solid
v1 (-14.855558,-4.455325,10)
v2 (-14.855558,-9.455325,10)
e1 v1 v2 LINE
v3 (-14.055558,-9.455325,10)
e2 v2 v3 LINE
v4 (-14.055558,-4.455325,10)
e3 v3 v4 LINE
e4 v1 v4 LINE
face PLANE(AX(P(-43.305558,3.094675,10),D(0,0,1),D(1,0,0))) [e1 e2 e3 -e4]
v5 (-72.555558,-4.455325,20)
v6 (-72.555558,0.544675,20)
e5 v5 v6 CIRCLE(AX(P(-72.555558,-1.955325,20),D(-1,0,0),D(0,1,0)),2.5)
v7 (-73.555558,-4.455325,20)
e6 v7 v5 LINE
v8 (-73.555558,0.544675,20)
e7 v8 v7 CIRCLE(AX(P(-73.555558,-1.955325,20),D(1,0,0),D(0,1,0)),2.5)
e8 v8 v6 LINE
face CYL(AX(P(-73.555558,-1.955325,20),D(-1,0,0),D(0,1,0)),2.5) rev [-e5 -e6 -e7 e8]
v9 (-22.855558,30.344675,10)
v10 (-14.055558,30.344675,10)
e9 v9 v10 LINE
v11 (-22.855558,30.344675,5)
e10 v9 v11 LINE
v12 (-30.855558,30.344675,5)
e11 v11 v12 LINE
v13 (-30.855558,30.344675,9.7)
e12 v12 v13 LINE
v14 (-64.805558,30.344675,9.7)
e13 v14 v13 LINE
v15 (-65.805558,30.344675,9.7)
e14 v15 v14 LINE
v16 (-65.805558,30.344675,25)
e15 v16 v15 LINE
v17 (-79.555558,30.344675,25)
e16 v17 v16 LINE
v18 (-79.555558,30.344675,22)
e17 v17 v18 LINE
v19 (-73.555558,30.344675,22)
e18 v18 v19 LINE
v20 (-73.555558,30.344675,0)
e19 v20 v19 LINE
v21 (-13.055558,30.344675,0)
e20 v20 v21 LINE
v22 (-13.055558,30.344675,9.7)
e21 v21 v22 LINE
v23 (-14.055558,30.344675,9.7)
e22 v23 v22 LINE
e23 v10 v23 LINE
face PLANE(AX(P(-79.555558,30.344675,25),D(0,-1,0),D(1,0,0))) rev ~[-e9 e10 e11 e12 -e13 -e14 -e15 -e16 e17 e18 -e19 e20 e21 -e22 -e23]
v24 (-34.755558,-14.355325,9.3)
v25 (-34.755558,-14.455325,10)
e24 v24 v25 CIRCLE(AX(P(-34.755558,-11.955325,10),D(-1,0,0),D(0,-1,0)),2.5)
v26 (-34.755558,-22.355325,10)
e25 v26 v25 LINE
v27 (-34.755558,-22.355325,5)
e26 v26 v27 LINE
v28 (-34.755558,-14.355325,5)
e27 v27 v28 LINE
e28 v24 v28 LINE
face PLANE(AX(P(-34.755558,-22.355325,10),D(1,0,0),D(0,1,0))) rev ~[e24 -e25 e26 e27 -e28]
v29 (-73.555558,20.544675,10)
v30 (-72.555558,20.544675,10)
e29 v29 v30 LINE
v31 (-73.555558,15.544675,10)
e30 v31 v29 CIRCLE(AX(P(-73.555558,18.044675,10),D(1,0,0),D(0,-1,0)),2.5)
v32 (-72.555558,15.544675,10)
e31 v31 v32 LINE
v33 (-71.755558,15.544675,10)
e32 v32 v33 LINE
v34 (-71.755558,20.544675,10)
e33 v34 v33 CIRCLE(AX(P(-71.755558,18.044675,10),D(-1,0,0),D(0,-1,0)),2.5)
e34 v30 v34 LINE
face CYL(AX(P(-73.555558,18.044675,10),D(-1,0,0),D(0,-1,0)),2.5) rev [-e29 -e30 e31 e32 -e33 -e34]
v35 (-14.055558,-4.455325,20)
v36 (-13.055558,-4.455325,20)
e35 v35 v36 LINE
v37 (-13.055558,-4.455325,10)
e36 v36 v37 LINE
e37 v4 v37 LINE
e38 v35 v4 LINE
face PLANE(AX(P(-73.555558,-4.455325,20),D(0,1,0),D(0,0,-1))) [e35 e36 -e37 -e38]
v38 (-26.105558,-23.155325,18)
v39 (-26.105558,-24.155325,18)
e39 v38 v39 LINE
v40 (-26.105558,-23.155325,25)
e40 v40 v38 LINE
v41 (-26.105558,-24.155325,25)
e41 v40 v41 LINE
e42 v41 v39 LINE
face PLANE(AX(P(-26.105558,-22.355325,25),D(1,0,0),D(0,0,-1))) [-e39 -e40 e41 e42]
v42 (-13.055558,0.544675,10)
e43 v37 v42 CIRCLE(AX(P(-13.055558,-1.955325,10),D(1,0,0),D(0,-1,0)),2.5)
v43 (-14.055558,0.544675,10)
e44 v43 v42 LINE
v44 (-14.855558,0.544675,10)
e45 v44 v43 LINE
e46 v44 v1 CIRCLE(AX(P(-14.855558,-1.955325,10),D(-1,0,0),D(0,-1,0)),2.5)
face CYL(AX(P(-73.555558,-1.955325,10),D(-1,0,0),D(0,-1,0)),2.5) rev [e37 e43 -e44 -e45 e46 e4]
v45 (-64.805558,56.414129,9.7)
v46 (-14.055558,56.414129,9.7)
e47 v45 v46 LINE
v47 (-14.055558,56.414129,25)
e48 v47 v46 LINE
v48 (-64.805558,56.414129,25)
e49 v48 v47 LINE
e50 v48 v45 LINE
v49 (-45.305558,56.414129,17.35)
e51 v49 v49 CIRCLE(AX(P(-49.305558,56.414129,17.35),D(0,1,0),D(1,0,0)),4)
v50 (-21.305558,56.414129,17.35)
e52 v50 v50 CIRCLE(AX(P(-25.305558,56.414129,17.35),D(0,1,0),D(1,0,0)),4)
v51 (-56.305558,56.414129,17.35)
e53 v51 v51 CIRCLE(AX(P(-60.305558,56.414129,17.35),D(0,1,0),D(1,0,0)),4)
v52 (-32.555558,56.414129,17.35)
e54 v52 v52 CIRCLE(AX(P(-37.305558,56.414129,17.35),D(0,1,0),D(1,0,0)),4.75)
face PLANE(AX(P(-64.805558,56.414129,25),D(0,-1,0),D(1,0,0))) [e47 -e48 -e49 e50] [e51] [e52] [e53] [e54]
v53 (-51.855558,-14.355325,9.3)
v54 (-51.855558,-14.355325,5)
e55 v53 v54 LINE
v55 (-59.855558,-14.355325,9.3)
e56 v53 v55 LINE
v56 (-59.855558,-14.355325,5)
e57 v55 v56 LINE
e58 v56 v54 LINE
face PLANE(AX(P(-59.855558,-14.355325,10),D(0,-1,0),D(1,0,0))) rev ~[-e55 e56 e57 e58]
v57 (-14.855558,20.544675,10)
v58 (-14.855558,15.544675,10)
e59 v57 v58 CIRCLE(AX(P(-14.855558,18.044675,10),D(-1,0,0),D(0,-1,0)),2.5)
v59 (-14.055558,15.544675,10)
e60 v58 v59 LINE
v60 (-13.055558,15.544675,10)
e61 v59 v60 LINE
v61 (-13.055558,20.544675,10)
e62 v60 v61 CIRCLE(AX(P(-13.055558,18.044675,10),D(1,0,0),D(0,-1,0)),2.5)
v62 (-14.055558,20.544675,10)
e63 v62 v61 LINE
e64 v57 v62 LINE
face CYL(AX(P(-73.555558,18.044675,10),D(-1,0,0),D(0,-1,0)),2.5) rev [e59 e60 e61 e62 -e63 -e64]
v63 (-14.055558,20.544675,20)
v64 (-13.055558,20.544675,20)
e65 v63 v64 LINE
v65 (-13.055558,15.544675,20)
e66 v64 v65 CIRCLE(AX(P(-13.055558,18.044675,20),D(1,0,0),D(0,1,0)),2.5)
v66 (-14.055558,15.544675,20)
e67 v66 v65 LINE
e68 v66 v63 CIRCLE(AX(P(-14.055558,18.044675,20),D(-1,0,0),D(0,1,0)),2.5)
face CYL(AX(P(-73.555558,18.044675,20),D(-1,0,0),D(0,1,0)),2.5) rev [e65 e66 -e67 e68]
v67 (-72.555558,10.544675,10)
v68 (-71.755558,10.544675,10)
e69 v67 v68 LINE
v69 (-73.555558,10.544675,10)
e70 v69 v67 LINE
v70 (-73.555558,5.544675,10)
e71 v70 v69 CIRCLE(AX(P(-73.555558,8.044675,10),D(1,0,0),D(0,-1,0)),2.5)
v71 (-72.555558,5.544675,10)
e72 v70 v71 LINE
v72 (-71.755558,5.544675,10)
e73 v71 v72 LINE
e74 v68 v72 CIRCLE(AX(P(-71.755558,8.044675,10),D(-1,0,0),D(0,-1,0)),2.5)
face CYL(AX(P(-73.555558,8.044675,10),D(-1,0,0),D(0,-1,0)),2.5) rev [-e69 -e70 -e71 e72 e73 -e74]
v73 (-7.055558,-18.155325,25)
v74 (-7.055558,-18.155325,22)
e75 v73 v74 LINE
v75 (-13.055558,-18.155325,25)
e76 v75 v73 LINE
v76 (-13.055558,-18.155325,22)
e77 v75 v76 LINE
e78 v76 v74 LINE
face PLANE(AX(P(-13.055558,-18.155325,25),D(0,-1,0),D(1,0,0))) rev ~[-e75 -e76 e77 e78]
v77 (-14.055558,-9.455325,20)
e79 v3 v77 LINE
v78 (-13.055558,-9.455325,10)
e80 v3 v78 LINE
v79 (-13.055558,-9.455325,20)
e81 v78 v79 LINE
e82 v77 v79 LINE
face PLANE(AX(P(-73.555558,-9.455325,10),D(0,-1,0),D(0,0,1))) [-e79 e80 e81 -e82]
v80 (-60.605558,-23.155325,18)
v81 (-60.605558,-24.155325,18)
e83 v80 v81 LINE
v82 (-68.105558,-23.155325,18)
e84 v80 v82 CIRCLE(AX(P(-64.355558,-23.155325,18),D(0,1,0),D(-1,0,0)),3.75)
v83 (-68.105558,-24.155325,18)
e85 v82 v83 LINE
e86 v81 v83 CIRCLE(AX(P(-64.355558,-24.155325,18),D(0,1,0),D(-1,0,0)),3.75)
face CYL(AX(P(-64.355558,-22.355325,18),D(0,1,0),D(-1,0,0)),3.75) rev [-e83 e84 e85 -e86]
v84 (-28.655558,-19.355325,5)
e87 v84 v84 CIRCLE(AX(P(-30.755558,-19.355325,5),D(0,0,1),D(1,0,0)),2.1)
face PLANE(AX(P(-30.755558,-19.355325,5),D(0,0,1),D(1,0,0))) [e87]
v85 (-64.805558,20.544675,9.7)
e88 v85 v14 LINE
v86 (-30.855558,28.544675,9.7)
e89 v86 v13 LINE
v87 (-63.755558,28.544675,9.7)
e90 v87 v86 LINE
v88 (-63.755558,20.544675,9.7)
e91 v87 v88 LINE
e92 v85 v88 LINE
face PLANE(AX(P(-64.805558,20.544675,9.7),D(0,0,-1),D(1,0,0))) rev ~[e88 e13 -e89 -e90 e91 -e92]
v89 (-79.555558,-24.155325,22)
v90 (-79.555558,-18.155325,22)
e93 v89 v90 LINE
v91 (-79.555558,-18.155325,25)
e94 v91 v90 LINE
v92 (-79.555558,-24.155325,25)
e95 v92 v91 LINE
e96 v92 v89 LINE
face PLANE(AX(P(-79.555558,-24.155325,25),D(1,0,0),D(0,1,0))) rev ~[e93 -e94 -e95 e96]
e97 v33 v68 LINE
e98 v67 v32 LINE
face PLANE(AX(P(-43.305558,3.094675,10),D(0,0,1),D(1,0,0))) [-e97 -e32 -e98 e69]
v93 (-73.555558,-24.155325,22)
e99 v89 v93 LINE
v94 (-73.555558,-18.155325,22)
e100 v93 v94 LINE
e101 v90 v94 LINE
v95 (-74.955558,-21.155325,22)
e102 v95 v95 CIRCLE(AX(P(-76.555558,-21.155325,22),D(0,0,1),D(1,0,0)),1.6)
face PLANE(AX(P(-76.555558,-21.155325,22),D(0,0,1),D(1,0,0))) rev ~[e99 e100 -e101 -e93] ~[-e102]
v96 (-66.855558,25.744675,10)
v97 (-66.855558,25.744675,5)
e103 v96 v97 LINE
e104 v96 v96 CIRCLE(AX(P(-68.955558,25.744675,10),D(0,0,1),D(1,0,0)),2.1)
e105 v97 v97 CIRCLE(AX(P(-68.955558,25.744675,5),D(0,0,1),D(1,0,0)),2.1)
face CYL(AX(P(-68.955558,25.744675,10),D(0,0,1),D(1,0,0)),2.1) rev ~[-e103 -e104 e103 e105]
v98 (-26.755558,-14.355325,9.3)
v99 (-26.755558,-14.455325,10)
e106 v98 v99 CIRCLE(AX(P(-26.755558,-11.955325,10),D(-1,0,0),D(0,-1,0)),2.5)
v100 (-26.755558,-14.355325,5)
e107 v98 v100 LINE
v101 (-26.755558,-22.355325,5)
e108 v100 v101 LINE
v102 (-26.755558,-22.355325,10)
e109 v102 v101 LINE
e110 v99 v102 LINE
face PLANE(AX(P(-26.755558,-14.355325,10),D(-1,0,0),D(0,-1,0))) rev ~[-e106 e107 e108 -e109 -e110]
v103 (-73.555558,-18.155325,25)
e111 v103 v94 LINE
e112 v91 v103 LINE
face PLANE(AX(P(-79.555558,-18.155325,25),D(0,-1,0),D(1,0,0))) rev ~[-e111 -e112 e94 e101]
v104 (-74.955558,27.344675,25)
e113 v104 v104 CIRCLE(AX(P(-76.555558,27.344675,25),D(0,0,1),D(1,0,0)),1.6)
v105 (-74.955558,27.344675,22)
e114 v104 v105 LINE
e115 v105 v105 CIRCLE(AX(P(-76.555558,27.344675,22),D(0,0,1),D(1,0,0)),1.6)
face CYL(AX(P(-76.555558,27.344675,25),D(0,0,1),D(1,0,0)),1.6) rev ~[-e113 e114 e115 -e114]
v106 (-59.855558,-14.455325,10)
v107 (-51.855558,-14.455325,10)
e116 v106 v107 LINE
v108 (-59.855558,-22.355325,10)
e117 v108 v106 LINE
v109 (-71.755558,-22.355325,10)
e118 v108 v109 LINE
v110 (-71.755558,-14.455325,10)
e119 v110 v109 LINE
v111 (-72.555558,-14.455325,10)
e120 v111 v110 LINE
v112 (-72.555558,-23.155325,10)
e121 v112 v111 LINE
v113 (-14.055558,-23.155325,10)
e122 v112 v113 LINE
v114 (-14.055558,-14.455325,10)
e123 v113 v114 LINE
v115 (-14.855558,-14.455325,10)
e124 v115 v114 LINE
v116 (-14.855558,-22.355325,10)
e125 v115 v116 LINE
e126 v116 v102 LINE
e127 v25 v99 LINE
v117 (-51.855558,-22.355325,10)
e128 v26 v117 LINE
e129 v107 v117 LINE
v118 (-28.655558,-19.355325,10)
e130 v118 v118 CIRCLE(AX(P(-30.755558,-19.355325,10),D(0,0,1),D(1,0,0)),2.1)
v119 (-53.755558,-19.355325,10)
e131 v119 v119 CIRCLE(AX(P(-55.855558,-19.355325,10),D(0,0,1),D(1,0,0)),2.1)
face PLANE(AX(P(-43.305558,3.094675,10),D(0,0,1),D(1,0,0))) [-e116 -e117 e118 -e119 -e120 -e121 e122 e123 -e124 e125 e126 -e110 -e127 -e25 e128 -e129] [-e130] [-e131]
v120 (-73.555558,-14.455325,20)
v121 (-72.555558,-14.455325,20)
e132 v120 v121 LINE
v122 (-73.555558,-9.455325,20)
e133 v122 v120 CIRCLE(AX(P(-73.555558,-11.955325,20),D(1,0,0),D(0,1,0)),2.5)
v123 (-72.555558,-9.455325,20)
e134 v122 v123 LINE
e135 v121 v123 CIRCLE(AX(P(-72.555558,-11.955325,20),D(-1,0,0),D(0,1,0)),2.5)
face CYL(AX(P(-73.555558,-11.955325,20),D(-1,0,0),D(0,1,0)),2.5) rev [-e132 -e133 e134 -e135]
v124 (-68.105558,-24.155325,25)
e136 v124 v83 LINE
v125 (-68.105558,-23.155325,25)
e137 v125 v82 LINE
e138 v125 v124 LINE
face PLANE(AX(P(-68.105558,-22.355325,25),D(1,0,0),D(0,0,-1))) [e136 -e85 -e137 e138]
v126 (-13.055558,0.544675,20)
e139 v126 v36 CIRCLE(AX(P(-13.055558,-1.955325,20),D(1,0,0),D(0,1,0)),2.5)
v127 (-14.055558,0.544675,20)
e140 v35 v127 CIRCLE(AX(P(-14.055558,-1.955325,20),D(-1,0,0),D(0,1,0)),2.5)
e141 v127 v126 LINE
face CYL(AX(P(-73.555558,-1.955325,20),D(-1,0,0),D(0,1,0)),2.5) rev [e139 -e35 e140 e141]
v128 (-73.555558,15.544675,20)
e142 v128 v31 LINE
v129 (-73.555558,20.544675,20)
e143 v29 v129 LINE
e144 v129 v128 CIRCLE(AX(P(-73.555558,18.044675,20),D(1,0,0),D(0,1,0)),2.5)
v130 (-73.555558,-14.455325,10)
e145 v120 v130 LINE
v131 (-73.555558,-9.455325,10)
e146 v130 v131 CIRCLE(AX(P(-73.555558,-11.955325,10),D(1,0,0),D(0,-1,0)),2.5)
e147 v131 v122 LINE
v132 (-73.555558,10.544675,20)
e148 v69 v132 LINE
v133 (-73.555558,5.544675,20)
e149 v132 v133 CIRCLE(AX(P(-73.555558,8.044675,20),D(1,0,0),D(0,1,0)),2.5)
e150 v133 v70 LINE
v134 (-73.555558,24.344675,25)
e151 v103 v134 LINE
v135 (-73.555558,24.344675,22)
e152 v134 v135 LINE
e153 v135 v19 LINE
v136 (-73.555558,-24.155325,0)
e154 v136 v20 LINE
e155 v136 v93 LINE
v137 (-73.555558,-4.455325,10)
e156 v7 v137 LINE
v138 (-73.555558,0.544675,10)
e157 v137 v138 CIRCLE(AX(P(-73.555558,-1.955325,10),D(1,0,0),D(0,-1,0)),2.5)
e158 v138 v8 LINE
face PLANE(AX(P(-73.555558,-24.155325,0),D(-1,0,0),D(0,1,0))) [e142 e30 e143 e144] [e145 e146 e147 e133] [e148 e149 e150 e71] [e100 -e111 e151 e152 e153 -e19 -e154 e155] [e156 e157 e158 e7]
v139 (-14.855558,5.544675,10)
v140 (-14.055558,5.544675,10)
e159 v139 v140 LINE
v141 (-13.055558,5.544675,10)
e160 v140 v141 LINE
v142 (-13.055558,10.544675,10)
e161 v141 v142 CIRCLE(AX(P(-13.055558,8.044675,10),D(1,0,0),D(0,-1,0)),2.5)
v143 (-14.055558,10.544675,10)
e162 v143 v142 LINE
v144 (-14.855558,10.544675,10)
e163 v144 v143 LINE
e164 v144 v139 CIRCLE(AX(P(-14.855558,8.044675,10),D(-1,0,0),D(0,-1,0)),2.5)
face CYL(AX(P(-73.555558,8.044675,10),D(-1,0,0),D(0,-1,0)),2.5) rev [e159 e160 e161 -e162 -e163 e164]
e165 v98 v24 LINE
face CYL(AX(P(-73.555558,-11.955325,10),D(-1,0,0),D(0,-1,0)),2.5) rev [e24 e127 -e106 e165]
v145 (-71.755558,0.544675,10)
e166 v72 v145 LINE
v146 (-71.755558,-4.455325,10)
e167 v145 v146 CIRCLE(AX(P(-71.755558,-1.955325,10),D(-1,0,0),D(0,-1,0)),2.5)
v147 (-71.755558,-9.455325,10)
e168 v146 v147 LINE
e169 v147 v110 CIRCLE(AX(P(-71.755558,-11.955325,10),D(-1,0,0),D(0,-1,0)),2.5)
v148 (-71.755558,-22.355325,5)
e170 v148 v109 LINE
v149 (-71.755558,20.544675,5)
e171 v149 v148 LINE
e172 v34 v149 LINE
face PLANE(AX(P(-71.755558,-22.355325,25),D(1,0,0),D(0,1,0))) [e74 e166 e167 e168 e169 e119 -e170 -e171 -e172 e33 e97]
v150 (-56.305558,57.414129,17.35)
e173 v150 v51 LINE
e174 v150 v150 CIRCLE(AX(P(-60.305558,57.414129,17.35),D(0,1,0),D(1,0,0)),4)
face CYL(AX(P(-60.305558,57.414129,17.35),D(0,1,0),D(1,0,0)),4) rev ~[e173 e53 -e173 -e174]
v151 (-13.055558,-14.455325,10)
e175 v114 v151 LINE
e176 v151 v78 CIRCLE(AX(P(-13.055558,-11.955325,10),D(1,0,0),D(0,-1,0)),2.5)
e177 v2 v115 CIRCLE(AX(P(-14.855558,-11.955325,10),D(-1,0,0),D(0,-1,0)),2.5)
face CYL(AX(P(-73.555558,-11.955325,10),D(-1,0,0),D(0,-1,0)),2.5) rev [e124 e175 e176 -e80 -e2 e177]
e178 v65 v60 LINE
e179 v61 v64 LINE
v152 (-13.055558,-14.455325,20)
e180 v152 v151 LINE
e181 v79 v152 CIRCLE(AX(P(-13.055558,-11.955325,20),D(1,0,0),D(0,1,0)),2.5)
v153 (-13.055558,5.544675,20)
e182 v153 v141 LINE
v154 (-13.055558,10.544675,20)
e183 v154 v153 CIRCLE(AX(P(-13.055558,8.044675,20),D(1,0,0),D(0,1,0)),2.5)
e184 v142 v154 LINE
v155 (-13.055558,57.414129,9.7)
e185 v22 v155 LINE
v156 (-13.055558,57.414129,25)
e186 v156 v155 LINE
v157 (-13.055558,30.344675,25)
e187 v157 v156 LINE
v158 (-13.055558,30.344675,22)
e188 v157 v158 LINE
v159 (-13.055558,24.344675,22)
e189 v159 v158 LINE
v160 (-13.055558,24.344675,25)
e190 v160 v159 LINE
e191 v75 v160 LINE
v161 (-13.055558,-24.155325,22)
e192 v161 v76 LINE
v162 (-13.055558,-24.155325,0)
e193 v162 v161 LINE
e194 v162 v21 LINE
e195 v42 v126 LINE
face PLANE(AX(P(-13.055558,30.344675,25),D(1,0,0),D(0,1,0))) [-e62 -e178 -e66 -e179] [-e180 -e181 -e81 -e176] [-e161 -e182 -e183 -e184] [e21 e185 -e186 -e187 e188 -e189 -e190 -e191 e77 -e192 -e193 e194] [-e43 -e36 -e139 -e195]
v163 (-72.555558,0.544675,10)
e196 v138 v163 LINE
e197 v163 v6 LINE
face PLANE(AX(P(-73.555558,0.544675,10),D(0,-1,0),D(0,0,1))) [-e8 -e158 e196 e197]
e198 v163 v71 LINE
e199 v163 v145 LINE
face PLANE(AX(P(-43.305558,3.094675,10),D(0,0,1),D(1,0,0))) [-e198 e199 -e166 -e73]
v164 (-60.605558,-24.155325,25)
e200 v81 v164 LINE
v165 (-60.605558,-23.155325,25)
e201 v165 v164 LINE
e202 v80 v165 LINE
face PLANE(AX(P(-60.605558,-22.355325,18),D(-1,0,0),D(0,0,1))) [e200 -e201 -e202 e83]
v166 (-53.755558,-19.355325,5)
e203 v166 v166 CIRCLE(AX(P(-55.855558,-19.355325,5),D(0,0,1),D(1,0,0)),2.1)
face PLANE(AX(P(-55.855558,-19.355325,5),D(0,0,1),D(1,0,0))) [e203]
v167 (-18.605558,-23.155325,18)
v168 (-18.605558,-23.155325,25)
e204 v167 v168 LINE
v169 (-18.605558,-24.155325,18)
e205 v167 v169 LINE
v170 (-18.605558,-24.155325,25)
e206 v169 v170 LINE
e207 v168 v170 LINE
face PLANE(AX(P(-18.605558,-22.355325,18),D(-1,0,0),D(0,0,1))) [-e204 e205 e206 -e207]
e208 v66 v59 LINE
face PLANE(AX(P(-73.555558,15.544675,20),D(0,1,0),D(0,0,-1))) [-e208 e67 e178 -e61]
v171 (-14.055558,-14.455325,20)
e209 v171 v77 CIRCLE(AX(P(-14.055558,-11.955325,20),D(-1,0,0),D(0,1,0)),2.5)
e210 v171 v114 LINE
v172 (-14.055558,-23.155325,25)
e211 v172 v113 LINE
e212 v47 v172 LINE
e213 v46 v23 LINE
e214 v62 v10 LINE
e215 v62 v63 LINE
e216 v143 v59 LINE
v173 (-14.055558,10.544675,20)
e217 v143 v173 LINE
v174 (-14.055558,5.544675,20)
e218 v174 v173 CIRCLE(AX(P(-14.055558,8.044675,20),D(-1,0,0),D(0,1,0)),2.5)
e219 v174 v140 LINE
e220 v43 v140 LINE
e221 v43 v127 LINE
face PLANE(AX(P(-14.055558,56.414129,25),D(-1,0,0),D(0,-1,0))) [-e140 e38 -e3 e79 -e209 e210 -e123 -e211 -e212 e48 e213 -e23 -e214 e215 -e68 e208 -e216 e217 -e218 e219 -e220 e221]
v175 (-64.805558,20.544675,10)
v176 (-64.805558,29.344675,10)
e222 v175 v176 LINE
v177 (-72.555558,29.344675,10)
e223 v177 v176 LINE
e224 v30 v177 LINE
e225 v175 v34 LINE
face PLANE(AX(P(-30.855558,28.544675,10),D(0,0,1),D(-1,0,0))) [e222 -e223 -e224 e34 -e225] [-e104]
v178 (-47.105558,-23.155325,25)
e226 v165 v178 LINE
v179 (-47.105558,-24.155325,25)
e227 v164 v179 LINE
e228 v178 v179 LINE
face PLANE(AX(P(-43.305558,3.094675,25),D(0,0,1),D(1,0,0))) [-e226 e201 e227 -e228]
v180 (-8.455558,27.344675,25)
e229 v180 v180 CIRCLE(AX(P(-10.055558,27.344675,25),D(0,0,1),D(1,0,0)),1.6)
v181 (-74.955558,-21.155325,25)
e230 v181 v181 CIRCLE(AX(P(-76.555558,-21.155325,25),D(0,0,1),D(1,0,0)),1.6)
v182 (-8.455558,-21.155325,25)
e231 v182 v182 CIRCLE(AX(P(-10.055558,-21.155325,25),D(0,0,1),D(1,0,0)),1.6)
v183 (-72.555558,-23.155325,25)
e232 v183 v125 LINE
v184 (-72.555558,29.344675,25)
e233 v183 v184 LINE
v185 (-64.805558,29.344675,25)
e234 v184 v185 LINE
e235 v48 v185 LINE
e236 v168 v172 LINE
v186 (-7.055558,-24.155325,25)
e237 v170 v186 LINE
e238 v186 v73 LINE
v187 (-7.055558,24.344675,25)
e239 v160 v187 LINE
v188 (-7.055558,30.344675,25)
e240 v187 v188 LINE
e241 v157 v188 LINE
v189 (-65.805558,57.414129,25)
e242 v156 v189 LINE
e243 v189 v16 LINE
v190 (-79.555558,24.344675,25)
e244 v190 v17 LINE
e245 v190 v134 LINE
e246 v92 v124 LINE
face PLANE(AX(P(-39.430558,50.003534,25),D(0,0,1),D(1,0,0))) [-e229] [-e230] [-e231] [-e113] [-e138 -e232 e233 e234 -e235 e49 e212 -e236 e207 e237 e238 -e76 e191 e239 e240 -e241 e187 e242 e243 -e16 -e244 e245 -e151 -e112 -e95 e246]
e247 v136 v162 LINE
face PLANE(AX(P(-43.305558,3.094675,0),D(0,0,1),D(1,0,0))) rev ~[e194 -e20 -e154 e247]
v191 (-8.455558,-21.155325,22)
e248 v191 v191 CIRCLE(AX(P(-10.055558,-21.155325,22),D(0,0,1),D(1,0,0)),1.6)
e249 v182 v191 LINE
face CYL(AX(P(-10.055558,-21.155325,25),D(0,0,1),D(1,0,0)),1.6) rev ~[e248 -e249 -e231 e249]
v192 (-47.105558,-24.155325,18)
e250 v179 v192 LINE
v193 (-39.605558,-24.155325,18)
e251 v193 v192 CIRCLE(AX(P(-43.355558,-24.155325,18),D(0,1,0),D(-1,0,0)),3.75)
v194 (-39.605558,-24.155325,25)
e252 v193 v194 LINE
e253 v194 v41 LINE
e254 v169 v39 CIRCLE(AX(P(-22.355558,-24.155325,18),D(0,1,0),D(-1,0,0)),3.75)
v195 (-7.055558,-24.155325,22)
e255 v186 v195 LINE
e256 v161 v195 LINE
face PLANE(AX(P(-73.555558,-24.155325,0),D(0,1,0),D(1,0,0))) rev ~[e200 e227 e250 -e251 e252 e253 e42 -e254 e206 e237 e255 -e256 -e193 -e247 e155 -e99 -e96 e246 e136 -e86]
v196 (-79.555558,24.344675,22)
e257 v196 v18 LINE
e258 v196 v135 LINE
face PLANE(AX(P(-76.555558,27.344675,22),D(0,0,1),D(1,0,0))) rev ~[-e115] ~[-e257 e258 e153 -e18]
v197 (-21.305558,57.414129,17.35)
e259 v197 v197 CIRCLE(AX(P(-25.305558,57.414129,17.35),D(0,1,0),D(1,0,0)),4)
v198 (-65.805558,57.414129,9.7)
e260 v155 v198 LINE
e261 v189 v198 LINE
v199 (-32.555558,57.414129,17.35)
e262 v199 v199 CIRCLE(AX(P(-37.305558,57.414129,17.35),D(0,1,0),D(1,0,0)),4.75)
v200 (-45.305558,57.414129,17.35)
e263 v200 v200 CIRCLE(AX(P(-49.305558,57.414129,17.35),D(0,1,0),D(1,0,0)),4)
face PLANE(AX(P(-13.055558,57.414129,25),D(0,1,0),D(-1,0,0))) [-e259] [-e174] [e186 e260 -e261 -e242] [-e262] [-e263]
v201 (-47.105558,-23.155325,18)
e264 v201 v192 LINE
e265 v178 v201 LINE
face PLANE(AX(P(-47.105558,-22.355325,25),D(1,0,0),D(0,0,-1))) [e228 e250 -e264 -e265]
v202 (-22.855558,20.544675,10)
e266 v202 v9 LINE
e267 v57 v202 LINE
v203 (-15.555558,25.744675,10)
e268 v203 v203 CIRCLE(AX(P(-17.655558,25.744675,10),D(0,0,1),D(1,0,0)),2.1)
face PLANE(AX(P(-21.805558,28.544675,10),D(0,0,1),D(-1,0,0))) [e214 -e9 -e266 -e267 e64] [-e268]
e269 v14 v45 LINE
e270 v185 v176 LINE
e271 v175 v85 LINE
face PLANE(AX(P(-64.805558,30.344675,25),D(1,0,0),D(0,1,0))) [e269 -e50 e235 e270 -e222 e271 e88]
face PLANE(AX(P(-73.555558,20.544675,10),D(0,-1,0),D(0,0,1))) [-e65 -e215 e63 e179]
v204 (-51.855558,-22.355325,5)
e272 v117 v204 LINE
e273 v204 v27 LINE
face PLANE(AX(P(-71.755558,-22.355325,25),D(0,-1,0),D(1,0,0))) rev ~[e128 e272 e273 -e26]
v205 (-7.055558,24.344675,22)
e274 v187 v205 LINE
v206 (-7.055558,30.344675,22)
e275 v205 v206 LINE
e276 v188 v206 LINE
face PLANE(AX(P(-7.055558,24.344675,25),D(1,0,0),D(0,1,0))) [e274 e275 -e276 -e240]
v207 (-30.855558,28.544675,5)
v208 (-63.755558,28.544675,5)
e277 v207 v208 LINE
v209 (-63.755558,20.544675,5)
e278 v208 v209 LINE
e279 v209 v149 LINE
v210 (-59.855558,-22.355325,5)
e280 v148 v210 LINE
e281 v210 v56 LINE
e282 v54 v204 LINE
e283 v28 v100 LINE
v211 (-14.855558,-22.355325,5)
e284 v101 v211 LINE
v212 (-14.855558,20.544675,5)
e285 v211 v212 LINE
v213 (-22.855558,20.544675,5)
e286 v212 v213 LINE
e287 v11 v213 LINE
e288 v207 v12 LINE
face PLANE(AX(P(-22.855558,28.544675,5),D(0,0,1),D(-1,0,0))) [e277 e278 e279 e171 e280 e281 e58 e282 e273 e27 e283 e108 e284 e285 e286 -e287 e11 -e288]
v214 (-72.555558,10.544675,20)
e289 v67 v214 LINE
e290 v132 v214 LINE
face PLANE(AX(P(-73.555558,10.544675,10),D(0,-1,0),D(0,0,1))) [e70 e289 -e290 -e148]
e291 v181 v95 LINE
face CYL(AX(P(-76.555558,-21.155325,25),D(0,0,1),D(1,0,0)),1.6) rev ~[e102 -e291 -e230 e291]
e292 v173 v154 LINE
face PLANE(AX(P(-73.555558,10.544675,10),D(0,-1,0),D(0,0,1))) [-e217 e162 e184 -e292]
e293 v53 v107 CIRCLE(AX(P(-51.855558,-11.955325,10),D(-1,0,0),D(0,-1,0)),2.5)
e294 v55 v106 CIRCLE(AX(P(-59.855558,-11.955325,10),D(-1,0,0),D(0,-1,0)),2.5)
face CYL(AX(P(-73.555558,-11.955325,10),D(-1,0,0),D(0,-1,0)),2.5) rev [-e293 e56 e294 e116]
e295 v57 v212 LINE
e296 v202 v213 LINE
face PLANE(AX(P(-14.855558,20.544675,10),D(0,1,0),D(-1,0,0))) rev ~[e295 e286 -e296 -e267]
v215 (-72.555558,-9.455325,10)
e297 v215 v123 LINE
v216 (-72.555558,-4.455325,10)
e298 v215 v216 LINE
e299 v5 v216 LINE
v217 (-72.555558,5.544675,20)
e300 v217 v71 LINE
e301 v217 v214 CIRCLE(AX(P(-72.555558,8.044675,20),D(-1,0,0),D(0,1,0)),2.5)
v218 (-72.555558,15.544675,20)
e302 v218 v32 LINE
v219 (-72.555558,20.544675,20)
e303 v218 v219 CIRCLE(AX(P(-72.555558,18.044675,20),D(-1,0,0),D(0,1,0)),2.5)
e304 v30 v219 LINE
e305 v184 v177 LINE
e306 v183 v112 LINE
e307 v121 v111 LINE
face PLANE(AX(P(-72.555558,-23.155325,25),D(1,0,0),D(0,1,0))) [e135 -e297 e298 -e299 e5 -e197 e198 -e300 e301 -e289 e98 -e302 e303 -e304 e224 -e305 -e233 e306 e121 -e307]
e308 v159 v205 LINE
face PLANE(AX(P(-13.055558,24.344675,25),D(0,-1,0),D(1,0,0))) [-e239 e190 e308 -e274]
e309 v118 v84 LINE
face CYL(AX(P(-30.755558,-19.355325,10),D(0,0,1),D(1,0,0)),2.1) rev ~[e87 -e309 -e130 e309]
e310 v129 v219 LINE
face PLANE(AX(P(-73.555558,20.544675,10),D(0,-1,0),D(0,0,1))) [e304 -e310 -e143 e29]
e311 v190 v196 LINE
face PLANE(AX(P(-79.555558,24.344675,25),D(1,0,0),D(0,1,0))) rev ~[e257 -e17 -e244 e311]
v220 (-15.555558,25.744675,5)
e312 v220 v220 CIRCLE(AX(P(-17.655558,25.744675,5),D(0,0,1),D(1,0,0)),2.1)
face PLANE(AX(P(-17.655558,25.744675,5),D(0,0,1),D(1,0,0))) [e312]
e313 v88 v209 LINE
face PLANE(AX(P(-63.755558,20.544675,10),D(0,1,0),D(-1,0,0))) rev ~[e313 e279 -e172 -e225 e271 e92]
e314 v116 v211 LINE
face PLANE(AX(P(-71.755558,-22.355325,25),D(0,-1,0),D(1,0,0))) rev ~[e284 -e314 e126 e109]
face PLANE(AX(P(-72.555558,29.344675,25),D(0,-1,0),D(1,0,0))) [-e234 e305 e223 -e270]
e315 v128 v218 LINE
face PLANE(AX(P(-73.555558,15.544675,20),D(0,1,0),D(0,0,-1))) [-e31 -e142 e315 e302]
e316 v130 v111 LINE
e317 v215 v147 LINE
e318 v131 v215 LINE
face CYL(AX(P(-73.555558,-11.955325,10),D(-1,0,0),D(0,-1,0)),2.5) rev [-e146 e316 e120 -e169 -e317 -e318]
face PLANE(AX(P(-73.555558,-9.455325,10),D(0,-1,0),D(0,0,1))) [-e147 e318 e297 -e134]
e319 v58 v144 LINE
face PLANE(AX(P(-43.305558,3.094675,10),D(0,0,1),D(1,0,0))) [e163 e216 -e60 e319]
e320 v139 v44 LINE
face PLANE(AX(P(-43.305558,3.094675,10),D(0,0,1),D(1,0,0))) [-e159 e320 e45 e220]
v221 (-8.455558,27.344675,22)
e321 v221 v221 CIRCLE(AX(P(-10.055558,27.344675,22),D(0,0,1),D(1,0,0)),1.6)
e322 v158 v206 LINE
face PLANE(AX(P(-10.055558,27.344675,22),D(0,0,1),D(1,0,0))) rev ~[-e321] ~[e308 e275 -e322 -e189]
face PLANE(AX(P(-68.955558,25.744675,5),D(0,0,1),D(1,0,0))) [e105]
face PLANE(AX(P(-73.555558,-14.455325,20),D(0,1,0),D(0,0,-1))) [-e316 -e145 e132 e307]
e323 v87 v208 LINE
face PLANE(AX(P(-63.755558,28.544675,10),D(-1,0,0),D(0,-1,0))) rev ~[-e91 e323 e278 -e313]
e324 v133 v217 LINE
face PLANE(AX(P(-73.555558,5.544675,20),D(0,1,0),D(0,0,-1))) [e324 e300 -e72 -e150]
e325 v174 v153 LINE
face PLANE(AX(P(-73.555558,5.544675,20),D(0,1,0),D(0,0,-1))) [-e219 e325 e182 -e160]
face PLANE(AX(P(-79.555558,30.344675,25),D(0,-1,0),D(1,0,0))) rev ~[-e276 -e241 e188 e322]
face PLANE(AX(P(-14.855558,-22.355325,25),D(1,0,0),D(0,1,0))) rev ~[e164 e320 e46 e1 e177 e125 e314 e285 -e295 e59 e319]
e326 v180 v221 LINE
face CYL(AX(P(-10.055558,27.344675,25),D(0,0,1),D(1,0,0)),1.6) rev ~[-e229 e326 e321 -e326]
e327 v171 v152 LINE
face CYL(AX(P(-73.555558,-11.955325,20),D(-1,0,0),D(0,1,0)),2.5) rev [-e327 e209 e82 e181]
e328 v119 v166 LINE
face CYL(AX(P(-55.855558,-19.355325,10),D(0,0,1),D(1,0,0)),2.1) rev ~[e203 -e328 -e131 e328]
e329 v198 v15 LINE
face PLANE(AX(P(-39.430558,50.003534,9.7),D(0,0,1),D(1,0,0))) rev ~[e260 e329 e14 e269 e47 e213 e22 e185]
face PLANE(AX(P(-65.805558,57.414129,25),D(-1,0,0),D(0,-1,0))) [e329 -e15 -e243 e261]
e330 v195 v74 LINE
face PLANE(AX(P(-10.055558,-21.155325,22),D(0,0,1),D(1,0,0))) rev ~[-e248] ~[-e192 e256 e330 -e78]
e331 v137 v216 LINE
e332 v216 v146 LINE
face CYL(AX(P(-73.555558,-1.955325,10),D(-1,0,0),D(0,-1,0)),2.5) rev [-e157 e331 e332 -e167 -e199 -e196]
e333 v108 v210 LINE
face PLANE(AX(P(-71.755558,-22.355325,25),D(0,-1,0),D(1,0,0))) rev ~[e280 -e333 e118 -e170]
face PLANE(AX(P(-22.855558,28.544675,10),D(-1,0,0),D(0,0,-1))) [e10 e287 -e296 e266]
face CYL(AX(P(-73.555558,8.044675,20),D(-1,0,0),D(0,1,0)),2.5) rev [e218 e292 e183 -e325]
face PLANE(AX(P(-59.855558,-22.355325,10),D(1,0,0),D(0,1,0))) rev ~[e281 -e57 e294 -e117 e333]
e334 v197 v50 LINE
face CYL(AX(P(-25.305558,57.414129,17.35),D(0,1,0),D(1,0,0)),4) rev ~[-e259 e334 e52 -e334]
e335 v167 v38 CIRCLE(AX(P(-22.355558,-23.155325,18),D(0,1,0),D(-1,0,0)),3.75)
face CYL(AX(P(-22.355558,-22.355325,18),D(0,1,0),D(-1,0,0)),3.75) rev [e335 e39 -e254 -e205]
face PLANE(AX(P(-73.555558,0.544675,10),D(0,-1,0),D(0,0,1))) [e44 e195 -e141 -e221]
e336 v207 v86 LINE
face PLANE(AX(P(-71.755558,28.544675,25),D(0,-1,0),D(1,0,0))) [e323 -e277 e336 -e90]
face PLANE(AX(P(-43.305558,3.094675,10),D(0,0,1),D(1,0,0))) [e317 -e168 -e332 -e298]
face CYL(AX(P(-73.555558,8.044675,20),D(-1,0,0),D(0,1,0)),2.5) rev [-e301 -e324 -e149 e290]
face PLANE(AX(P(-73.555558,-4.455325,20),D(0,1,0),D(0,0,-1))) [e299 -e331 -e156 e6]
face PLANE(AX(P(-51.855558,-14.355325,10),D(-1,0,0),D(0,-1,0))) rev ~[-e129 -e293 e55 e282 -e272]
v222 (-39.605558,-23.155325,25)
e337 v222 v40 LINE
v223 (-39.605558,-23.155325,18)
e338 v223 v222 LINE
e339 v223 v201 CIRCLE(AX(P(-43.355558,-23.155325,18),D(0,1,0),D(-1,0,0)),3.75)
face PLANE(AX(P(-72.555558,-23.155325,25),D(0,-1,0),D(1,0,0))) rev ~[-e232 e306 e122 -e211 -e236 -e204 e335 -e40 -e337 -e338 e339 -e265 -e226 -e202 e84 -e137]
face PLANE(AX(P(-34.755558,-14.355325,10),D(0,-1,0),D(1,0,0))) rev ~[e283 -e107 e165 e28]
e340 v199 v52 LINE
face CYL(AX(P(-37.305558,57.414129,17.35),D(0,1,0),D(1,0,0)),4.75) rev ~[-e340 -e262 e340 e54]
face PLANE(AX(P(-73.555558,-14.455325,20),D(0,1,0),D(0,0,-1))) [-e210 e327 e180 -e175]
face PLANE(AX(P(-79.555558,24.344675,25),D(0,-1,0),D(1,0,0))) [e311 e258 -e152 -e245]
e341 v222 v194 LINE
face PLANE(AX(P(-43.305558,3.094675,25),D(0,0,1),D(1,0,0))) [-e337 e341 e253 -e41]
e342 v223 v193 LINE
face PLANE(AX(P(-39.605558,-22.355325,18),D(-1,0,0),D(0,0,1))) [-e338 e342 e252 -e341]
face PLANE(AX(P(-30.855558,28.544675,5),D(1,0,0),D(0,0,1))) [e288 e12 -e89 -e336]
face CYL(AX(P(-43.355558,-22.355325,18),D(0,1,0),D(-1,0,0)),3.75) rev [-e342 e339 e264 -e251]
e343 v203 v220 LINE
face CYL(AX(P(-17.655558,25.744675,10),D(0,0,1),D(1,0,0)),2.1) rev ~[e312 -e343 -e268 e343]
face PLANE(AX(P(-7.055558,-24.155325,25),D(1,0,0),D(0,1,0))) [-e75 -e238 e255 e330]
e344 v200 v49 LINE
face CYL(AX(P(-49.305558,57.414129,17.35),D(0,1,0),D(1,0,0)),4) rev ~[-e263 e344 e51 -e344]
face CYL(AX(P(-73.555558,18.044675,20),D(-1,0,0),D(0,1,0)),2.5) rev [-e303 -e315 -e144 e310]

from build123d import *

# Parameters (mm, degrees)
CROQUIS1_W              = 60.5
CROQUIS1_H              = 54.5
SALIENTE_EXTRUIR1_DEPTH = 25
CROQUIS2_W              = 56.9
CROQUIS2_H              = 50.9
CORTAR_EXTRUIR1_DEPTH   = 15
CROQUIS3_R              = 2.1
CORTAR_EXTRUIR2_DEPTH   = 5
CORTAR_EXTRUIR3_DEPTH   = 5
CORTAR_EXTRUIR4_DEPTH   = 1.8
CORTAR_EXTRUIR6_START   = -1.8
CORTAR_EXTRUIR6_DEPTH   = 60.5
CROQUIS10_W             = 6
CROQUIS10_H             = 6
CROQUIS10_R             = 1.6
SALIENTE_EXTRUIR2_DEPTH = 3
CROQUIS11_W             = 58.5
CROQUIS11_H             = 52.5
CORTAR_EXTRUIR7_DEPTH   = 15
CORTAR_EXTRUIR8_START   = -9.8
CROQUIS13_W             = 33.95
CROQUIS13_H             = 0.3
CORTAR_EXTRUIR8_DEPTH   = 9.8
CORTAR_EXTRUIR9_START   = -15
CROQUIS14_W             = 50.75
CROQUIS14_H             = 1
CORTAR_EXTRUIR9_DEPTH   = 15
SALIENTE_EXTRUIR3_DEPTH = 15.3
CROQUIS17_R             = 4
CROQUIS17_R_2           = 4.75
CORTAR_EXTRUIR10_DEPTH  = 1


with BuildPart() as part:
    # Croquis1 → Saliente-Extruir1 (new body)
    with BuildSketch(Plane.XY):
        with Locations((-43.305557703, 3.094674556)):
            Rectangle(CROQUIS1_W, CROQUIS1_H)
    extrude(amount=SALIENTE_EXTRUIR1_DEPTH)

    # Croquis2 → Cortar-Extruir1 (cut)
    with BuildSketch(Plane.XY.offset(25)):
        with Locations((-43.305557703, 3.094674556)):
            Rectangle(CROQUIS2_W, CROQUIS2_H)
    extrude(amount=-CORTAR_EXTRUIR1_DEPTH, mode=Mode.SUBTRACT)

    # Croquis3 → Cortar-Extruir2 (cut)
    with BuildSketch(Plane.XY.offset(10)):
        with Locations((-68.955557703, 25.744674556)):
            Circle(CROQUIS3_R)
        with Locations((-55.855557703, -19.355325444)):
            Circle(CROQUIS3_R)
        with Locations((-30.755557703, -19.355325444)):
            Circle(CROQUIS3_R)
        with Locations((-17.655557703, 25.744674556)):
            Circle(CROQUIS3_R)
        Polygon((-71.755557703, 20.544674556), (-71.755557703, -22.355325444), (-59.855557703, -22.355325444), (-59.855557703, -14.355325444), (-51.855557703, -14.355325444), (-51.855557703, -22.355325444), (-34.755557703, -22.355325444), (-34.755557703, -14.355325444), (-26.755557703, -14.355325444), (-26.755557703, -22.355325444), (-14.855557703, -22.355325444), (-14.855557703, 20.544674556), (-22.855557703, 20.544674556), (-22.855557703, 28.544674556), (-63.755557703, 28.544674556), (-63.755557703, 20.544674556), align=None)
    extrude(amount=-CORTAR_EXTRUIR2_DEPTH, mode=Mode.SUBTRACT)

    # Croquis5 → Cortar-Extruir3 (cut)
    with BuildSketch(Plane(origin=(0, -22.355325444, 0), x_dir=(1, 0, 0), z_dir=(0, 1, 0))):
        with BuildLine():
            Line((-18.605557703, -18), (-18.605557703, -25))
            Line((-18.605557703, -25), (-26.105557703, -25))
            Line((-26.105557703, -25), (-26.105557703, -18))
            ThreePointArc((-26.105557703, -18), (-22.355557703, -14.25), (-18.605557703, -18))
        make_face()
        with BuildLine():
            Line((-39.605557703, -18), (-39.605557703, -25))
            Line((-39.605557703, -25), (-47.105557703, -25))
            Line((-47.105557703, -25), (-47.105557703, -18))
            ThreePointArc((-47.105557703, -18), (-43.355557703, -14.25), (-39.605557703, -18))
        make_face()
        with BuildLine():
            Line((-60.605557703, -18), (-60.605557703, -25))
            Line((-60.605557703, -25), (-68.105557703, -25))
            Line((-68.105557703, -25), (-68.105557703, -18))
            ThreePointArc((-68.105557703, -18), (-64.355557703, -14.25), (-60.605557703, -18))
        make_face()
    extrude(amount=-CORTAR_EXTRUIR3_DEPTH, mode=Mode.SUBTRACT)

    # Croquis6 → Cortar-Extruir4 (cut)
    with BuildSketch(Plane.XZ.offset(-28.544674556)):
        Polygon((-64.805557703, 17), (-21.805557703, 17), (-21.805557703, 10), (-22.855557703, 10), (-22.855557703, 5), (-30.855557703, 5), (-30.855557703, 10), (-64.805557703, 10), align=None)
    extrude(amount=-CORTAR_EXTRUIR4_DEPTH, mode=Mode.SUBTRACT)

    # Croquis9 → Cortar-Extruir6 (cut)
    with BuildSketch(Plane(origin=(-71.755557703, 0, 0), x_dir=(0, 0, -1), z_dir=(1, 0, 0)).offset(CORTAR_EXTRUIR6_START)):
        with BuildLine():
            Line((-10, 20.544674556), (-20, 20.544674556))
            ThreePointArc((-20, 20.544674556), (-22.5, 18.044674556), (-20, 15.544674556))
            Line((-20, 15.544674556), (-10, 15.544674556))
            ThreePointArc((-10, 15.544674556), (-7.5, 18.044674556), (-10, 20.544674556))
        make_face()
        with BuildLine():
            Line((-10, 10.544674556), (-20, 10.544674556))
            ThreePointArc((-20, 10.544674556), (-22.5, 8.044674556), (-20, 5.544674556))
            Line((-20, 5.544674556), (-10, 5.544674556))
            ThreePointArc((-10, 5.544674556), (-7.5, 8.044674556), (-10, 10.544674556))
        make_face()
        with BuildLine():
            Line((-10, 0.544674556), (-20, 0.544674556))
            ThreePointArc((-20, 0.544674556), (-22.5, -1.955325444), (-20, -4.455325444))
            Line((-20, -4.455325444), (-10, -4.455325444))
            ThreePointArc((-10, -4.455325444), (-7.5, -1.955325444), (-10, 0.544674556))
        make_face()
        with BuildLine():
            Line((-10, -9.455325444), (-20, -9.455325444))
            ThreePointArc((-20, -9.455325444), (-22.5, -11.955325444), (-20, -14.455325444))
            Line((-20, -14.455325444), (-10, -14.455325444))
            ThreePointArc((-10, -14.455325444), (-7.5, -11.955325444), (-10, -9.455325444))
        make_face()
    extrude(amount=CORTAR_EXTRUIR6_DEPTH, mode=Mode.SUBTRACT)

    # Croquis10 → Saliente-Extruir2 (add)
    with BuildSketch(Plane.XY.offset(25)):
        with Locations((-76.555557703, 27.344674556)):
            Rectangle(CROQUIS10_W, CROQUIS10_H)
        with Locations((-76.555557703, 27.344674556)):
            Circle(CROQUIS10_R, mode=Mode.SUBTRACT)
        with Locations((-10.055557703, 27.344674556)):
            Rectangle(CROQUIS10_W, CROQUIS10_H)
        with Locations((-10.055557703, 27.344674556)):
            Circle(CROQUIS10_R, mode=Mode.SUBTRACT)
        with Locations((-10.055557703, -21.155325444)):
            Rectangle(CROQUIS10_W, CROQUIS10_H)
        with Locations((-10.055557703, -21.155325444)):
            Circle(CROQUIS10_R, mode=Mode.SUBTRACT)
        with Locations((-76.555557703, -21.155325444)):
            Rectangle(CROQUIS10_W, CROQUIS10_H)
        with Locations((-76.555557703, -21.155325444)):
            Circle(CROQUIS10_R, mode=Mode.SUBTRACT)
    extrude(amount=-SALIENTE_EXTRUIR2_DEPTH)

    # Croquis11 → Cortar-Extruir7 (cut)
    with BuildSketch(Plane.XY.offset(25)):
        with Locations((-43.305557703, 3.094674556)):
            Rectangle(CROQUIS11_W, CROQUIS11_H)
    extrude(amount=-CORTAR_EXTRUIR7_DEPTH, mode=Mode.SUBTRACT)

    # Croquis13 → Cortar-Extruir8 (cut)
    with BuildSketch(Plane(origin=(0, 30.344674556, 0), x_dir=(1, 0, 0), z_dir=(0, 1, 0)).offset(CORTAR_EXTRUIR8_START)):
        with Locations((-47.830557703, -9.85)):
            Rectangle(CROQUIS13_W, CROQUIS13_H)
    extrude(amount=CORTAR_EXTRUIR8_DEPTH, mode=Mode.SUBTRACT)

    # Croquis14 → Cortar-Extruir9 (cut)
    with BuildSketch(Plane.XY.offset(25).offset(CORTAR_EXTRUIR9_START)):
        with Locations((-39.430557703, 29.844674556)):
            Rectangle(CROQUIS14_W, CROQUIS14_H)
    extrude(amount=CORTAR_EXTRUIR9_DEPTH, mode=Mode.SUBTRACT)

    # Croquis16 → Saliente-Extruir3 (add)
    with BuildSketch(Plane.XY.offset(25)):
        Polygon((-64.805557703, 30.344674556), (-64.805557703, 56.41412893), (-14.055557703, 56.41412893), (-14.055557703, 30.344674556), (-13.055557703, 30.344674556), (-13.055557703, 57.41412893), (-65.805557703, 57.41412893), (-65.805557703, 30.344674556), align=None)
    extrude(amount=-SALIENTE_EXTRUIR3_DEPTH)

    # Croquis17 → Cortar-Extruir10 (cut)
    with BuildSketch(Plane(origin=(0, 57.41412893, 0), x_dir=(1, 0, 0), z_dir=(0, 1, 0))):
        with Locations((-60.305557703, -17.35)):
            Circle(CROQUIS17_R)
        with Locations((-49.305557703, -17.35)):
            Circle(CROQUIS17_R)
        with Locations((-37.305557703, -17.35)):
            Circle(CROQUIS17_R_2)
        with Locations((-25.305557703, -17.35)):
            Circle(CROQUIS17_R)
    extrude(amount=-CORTAR_EXTRUIR10_DEPTH, mode=Mode.SUBTRACT)


solid = part.part
